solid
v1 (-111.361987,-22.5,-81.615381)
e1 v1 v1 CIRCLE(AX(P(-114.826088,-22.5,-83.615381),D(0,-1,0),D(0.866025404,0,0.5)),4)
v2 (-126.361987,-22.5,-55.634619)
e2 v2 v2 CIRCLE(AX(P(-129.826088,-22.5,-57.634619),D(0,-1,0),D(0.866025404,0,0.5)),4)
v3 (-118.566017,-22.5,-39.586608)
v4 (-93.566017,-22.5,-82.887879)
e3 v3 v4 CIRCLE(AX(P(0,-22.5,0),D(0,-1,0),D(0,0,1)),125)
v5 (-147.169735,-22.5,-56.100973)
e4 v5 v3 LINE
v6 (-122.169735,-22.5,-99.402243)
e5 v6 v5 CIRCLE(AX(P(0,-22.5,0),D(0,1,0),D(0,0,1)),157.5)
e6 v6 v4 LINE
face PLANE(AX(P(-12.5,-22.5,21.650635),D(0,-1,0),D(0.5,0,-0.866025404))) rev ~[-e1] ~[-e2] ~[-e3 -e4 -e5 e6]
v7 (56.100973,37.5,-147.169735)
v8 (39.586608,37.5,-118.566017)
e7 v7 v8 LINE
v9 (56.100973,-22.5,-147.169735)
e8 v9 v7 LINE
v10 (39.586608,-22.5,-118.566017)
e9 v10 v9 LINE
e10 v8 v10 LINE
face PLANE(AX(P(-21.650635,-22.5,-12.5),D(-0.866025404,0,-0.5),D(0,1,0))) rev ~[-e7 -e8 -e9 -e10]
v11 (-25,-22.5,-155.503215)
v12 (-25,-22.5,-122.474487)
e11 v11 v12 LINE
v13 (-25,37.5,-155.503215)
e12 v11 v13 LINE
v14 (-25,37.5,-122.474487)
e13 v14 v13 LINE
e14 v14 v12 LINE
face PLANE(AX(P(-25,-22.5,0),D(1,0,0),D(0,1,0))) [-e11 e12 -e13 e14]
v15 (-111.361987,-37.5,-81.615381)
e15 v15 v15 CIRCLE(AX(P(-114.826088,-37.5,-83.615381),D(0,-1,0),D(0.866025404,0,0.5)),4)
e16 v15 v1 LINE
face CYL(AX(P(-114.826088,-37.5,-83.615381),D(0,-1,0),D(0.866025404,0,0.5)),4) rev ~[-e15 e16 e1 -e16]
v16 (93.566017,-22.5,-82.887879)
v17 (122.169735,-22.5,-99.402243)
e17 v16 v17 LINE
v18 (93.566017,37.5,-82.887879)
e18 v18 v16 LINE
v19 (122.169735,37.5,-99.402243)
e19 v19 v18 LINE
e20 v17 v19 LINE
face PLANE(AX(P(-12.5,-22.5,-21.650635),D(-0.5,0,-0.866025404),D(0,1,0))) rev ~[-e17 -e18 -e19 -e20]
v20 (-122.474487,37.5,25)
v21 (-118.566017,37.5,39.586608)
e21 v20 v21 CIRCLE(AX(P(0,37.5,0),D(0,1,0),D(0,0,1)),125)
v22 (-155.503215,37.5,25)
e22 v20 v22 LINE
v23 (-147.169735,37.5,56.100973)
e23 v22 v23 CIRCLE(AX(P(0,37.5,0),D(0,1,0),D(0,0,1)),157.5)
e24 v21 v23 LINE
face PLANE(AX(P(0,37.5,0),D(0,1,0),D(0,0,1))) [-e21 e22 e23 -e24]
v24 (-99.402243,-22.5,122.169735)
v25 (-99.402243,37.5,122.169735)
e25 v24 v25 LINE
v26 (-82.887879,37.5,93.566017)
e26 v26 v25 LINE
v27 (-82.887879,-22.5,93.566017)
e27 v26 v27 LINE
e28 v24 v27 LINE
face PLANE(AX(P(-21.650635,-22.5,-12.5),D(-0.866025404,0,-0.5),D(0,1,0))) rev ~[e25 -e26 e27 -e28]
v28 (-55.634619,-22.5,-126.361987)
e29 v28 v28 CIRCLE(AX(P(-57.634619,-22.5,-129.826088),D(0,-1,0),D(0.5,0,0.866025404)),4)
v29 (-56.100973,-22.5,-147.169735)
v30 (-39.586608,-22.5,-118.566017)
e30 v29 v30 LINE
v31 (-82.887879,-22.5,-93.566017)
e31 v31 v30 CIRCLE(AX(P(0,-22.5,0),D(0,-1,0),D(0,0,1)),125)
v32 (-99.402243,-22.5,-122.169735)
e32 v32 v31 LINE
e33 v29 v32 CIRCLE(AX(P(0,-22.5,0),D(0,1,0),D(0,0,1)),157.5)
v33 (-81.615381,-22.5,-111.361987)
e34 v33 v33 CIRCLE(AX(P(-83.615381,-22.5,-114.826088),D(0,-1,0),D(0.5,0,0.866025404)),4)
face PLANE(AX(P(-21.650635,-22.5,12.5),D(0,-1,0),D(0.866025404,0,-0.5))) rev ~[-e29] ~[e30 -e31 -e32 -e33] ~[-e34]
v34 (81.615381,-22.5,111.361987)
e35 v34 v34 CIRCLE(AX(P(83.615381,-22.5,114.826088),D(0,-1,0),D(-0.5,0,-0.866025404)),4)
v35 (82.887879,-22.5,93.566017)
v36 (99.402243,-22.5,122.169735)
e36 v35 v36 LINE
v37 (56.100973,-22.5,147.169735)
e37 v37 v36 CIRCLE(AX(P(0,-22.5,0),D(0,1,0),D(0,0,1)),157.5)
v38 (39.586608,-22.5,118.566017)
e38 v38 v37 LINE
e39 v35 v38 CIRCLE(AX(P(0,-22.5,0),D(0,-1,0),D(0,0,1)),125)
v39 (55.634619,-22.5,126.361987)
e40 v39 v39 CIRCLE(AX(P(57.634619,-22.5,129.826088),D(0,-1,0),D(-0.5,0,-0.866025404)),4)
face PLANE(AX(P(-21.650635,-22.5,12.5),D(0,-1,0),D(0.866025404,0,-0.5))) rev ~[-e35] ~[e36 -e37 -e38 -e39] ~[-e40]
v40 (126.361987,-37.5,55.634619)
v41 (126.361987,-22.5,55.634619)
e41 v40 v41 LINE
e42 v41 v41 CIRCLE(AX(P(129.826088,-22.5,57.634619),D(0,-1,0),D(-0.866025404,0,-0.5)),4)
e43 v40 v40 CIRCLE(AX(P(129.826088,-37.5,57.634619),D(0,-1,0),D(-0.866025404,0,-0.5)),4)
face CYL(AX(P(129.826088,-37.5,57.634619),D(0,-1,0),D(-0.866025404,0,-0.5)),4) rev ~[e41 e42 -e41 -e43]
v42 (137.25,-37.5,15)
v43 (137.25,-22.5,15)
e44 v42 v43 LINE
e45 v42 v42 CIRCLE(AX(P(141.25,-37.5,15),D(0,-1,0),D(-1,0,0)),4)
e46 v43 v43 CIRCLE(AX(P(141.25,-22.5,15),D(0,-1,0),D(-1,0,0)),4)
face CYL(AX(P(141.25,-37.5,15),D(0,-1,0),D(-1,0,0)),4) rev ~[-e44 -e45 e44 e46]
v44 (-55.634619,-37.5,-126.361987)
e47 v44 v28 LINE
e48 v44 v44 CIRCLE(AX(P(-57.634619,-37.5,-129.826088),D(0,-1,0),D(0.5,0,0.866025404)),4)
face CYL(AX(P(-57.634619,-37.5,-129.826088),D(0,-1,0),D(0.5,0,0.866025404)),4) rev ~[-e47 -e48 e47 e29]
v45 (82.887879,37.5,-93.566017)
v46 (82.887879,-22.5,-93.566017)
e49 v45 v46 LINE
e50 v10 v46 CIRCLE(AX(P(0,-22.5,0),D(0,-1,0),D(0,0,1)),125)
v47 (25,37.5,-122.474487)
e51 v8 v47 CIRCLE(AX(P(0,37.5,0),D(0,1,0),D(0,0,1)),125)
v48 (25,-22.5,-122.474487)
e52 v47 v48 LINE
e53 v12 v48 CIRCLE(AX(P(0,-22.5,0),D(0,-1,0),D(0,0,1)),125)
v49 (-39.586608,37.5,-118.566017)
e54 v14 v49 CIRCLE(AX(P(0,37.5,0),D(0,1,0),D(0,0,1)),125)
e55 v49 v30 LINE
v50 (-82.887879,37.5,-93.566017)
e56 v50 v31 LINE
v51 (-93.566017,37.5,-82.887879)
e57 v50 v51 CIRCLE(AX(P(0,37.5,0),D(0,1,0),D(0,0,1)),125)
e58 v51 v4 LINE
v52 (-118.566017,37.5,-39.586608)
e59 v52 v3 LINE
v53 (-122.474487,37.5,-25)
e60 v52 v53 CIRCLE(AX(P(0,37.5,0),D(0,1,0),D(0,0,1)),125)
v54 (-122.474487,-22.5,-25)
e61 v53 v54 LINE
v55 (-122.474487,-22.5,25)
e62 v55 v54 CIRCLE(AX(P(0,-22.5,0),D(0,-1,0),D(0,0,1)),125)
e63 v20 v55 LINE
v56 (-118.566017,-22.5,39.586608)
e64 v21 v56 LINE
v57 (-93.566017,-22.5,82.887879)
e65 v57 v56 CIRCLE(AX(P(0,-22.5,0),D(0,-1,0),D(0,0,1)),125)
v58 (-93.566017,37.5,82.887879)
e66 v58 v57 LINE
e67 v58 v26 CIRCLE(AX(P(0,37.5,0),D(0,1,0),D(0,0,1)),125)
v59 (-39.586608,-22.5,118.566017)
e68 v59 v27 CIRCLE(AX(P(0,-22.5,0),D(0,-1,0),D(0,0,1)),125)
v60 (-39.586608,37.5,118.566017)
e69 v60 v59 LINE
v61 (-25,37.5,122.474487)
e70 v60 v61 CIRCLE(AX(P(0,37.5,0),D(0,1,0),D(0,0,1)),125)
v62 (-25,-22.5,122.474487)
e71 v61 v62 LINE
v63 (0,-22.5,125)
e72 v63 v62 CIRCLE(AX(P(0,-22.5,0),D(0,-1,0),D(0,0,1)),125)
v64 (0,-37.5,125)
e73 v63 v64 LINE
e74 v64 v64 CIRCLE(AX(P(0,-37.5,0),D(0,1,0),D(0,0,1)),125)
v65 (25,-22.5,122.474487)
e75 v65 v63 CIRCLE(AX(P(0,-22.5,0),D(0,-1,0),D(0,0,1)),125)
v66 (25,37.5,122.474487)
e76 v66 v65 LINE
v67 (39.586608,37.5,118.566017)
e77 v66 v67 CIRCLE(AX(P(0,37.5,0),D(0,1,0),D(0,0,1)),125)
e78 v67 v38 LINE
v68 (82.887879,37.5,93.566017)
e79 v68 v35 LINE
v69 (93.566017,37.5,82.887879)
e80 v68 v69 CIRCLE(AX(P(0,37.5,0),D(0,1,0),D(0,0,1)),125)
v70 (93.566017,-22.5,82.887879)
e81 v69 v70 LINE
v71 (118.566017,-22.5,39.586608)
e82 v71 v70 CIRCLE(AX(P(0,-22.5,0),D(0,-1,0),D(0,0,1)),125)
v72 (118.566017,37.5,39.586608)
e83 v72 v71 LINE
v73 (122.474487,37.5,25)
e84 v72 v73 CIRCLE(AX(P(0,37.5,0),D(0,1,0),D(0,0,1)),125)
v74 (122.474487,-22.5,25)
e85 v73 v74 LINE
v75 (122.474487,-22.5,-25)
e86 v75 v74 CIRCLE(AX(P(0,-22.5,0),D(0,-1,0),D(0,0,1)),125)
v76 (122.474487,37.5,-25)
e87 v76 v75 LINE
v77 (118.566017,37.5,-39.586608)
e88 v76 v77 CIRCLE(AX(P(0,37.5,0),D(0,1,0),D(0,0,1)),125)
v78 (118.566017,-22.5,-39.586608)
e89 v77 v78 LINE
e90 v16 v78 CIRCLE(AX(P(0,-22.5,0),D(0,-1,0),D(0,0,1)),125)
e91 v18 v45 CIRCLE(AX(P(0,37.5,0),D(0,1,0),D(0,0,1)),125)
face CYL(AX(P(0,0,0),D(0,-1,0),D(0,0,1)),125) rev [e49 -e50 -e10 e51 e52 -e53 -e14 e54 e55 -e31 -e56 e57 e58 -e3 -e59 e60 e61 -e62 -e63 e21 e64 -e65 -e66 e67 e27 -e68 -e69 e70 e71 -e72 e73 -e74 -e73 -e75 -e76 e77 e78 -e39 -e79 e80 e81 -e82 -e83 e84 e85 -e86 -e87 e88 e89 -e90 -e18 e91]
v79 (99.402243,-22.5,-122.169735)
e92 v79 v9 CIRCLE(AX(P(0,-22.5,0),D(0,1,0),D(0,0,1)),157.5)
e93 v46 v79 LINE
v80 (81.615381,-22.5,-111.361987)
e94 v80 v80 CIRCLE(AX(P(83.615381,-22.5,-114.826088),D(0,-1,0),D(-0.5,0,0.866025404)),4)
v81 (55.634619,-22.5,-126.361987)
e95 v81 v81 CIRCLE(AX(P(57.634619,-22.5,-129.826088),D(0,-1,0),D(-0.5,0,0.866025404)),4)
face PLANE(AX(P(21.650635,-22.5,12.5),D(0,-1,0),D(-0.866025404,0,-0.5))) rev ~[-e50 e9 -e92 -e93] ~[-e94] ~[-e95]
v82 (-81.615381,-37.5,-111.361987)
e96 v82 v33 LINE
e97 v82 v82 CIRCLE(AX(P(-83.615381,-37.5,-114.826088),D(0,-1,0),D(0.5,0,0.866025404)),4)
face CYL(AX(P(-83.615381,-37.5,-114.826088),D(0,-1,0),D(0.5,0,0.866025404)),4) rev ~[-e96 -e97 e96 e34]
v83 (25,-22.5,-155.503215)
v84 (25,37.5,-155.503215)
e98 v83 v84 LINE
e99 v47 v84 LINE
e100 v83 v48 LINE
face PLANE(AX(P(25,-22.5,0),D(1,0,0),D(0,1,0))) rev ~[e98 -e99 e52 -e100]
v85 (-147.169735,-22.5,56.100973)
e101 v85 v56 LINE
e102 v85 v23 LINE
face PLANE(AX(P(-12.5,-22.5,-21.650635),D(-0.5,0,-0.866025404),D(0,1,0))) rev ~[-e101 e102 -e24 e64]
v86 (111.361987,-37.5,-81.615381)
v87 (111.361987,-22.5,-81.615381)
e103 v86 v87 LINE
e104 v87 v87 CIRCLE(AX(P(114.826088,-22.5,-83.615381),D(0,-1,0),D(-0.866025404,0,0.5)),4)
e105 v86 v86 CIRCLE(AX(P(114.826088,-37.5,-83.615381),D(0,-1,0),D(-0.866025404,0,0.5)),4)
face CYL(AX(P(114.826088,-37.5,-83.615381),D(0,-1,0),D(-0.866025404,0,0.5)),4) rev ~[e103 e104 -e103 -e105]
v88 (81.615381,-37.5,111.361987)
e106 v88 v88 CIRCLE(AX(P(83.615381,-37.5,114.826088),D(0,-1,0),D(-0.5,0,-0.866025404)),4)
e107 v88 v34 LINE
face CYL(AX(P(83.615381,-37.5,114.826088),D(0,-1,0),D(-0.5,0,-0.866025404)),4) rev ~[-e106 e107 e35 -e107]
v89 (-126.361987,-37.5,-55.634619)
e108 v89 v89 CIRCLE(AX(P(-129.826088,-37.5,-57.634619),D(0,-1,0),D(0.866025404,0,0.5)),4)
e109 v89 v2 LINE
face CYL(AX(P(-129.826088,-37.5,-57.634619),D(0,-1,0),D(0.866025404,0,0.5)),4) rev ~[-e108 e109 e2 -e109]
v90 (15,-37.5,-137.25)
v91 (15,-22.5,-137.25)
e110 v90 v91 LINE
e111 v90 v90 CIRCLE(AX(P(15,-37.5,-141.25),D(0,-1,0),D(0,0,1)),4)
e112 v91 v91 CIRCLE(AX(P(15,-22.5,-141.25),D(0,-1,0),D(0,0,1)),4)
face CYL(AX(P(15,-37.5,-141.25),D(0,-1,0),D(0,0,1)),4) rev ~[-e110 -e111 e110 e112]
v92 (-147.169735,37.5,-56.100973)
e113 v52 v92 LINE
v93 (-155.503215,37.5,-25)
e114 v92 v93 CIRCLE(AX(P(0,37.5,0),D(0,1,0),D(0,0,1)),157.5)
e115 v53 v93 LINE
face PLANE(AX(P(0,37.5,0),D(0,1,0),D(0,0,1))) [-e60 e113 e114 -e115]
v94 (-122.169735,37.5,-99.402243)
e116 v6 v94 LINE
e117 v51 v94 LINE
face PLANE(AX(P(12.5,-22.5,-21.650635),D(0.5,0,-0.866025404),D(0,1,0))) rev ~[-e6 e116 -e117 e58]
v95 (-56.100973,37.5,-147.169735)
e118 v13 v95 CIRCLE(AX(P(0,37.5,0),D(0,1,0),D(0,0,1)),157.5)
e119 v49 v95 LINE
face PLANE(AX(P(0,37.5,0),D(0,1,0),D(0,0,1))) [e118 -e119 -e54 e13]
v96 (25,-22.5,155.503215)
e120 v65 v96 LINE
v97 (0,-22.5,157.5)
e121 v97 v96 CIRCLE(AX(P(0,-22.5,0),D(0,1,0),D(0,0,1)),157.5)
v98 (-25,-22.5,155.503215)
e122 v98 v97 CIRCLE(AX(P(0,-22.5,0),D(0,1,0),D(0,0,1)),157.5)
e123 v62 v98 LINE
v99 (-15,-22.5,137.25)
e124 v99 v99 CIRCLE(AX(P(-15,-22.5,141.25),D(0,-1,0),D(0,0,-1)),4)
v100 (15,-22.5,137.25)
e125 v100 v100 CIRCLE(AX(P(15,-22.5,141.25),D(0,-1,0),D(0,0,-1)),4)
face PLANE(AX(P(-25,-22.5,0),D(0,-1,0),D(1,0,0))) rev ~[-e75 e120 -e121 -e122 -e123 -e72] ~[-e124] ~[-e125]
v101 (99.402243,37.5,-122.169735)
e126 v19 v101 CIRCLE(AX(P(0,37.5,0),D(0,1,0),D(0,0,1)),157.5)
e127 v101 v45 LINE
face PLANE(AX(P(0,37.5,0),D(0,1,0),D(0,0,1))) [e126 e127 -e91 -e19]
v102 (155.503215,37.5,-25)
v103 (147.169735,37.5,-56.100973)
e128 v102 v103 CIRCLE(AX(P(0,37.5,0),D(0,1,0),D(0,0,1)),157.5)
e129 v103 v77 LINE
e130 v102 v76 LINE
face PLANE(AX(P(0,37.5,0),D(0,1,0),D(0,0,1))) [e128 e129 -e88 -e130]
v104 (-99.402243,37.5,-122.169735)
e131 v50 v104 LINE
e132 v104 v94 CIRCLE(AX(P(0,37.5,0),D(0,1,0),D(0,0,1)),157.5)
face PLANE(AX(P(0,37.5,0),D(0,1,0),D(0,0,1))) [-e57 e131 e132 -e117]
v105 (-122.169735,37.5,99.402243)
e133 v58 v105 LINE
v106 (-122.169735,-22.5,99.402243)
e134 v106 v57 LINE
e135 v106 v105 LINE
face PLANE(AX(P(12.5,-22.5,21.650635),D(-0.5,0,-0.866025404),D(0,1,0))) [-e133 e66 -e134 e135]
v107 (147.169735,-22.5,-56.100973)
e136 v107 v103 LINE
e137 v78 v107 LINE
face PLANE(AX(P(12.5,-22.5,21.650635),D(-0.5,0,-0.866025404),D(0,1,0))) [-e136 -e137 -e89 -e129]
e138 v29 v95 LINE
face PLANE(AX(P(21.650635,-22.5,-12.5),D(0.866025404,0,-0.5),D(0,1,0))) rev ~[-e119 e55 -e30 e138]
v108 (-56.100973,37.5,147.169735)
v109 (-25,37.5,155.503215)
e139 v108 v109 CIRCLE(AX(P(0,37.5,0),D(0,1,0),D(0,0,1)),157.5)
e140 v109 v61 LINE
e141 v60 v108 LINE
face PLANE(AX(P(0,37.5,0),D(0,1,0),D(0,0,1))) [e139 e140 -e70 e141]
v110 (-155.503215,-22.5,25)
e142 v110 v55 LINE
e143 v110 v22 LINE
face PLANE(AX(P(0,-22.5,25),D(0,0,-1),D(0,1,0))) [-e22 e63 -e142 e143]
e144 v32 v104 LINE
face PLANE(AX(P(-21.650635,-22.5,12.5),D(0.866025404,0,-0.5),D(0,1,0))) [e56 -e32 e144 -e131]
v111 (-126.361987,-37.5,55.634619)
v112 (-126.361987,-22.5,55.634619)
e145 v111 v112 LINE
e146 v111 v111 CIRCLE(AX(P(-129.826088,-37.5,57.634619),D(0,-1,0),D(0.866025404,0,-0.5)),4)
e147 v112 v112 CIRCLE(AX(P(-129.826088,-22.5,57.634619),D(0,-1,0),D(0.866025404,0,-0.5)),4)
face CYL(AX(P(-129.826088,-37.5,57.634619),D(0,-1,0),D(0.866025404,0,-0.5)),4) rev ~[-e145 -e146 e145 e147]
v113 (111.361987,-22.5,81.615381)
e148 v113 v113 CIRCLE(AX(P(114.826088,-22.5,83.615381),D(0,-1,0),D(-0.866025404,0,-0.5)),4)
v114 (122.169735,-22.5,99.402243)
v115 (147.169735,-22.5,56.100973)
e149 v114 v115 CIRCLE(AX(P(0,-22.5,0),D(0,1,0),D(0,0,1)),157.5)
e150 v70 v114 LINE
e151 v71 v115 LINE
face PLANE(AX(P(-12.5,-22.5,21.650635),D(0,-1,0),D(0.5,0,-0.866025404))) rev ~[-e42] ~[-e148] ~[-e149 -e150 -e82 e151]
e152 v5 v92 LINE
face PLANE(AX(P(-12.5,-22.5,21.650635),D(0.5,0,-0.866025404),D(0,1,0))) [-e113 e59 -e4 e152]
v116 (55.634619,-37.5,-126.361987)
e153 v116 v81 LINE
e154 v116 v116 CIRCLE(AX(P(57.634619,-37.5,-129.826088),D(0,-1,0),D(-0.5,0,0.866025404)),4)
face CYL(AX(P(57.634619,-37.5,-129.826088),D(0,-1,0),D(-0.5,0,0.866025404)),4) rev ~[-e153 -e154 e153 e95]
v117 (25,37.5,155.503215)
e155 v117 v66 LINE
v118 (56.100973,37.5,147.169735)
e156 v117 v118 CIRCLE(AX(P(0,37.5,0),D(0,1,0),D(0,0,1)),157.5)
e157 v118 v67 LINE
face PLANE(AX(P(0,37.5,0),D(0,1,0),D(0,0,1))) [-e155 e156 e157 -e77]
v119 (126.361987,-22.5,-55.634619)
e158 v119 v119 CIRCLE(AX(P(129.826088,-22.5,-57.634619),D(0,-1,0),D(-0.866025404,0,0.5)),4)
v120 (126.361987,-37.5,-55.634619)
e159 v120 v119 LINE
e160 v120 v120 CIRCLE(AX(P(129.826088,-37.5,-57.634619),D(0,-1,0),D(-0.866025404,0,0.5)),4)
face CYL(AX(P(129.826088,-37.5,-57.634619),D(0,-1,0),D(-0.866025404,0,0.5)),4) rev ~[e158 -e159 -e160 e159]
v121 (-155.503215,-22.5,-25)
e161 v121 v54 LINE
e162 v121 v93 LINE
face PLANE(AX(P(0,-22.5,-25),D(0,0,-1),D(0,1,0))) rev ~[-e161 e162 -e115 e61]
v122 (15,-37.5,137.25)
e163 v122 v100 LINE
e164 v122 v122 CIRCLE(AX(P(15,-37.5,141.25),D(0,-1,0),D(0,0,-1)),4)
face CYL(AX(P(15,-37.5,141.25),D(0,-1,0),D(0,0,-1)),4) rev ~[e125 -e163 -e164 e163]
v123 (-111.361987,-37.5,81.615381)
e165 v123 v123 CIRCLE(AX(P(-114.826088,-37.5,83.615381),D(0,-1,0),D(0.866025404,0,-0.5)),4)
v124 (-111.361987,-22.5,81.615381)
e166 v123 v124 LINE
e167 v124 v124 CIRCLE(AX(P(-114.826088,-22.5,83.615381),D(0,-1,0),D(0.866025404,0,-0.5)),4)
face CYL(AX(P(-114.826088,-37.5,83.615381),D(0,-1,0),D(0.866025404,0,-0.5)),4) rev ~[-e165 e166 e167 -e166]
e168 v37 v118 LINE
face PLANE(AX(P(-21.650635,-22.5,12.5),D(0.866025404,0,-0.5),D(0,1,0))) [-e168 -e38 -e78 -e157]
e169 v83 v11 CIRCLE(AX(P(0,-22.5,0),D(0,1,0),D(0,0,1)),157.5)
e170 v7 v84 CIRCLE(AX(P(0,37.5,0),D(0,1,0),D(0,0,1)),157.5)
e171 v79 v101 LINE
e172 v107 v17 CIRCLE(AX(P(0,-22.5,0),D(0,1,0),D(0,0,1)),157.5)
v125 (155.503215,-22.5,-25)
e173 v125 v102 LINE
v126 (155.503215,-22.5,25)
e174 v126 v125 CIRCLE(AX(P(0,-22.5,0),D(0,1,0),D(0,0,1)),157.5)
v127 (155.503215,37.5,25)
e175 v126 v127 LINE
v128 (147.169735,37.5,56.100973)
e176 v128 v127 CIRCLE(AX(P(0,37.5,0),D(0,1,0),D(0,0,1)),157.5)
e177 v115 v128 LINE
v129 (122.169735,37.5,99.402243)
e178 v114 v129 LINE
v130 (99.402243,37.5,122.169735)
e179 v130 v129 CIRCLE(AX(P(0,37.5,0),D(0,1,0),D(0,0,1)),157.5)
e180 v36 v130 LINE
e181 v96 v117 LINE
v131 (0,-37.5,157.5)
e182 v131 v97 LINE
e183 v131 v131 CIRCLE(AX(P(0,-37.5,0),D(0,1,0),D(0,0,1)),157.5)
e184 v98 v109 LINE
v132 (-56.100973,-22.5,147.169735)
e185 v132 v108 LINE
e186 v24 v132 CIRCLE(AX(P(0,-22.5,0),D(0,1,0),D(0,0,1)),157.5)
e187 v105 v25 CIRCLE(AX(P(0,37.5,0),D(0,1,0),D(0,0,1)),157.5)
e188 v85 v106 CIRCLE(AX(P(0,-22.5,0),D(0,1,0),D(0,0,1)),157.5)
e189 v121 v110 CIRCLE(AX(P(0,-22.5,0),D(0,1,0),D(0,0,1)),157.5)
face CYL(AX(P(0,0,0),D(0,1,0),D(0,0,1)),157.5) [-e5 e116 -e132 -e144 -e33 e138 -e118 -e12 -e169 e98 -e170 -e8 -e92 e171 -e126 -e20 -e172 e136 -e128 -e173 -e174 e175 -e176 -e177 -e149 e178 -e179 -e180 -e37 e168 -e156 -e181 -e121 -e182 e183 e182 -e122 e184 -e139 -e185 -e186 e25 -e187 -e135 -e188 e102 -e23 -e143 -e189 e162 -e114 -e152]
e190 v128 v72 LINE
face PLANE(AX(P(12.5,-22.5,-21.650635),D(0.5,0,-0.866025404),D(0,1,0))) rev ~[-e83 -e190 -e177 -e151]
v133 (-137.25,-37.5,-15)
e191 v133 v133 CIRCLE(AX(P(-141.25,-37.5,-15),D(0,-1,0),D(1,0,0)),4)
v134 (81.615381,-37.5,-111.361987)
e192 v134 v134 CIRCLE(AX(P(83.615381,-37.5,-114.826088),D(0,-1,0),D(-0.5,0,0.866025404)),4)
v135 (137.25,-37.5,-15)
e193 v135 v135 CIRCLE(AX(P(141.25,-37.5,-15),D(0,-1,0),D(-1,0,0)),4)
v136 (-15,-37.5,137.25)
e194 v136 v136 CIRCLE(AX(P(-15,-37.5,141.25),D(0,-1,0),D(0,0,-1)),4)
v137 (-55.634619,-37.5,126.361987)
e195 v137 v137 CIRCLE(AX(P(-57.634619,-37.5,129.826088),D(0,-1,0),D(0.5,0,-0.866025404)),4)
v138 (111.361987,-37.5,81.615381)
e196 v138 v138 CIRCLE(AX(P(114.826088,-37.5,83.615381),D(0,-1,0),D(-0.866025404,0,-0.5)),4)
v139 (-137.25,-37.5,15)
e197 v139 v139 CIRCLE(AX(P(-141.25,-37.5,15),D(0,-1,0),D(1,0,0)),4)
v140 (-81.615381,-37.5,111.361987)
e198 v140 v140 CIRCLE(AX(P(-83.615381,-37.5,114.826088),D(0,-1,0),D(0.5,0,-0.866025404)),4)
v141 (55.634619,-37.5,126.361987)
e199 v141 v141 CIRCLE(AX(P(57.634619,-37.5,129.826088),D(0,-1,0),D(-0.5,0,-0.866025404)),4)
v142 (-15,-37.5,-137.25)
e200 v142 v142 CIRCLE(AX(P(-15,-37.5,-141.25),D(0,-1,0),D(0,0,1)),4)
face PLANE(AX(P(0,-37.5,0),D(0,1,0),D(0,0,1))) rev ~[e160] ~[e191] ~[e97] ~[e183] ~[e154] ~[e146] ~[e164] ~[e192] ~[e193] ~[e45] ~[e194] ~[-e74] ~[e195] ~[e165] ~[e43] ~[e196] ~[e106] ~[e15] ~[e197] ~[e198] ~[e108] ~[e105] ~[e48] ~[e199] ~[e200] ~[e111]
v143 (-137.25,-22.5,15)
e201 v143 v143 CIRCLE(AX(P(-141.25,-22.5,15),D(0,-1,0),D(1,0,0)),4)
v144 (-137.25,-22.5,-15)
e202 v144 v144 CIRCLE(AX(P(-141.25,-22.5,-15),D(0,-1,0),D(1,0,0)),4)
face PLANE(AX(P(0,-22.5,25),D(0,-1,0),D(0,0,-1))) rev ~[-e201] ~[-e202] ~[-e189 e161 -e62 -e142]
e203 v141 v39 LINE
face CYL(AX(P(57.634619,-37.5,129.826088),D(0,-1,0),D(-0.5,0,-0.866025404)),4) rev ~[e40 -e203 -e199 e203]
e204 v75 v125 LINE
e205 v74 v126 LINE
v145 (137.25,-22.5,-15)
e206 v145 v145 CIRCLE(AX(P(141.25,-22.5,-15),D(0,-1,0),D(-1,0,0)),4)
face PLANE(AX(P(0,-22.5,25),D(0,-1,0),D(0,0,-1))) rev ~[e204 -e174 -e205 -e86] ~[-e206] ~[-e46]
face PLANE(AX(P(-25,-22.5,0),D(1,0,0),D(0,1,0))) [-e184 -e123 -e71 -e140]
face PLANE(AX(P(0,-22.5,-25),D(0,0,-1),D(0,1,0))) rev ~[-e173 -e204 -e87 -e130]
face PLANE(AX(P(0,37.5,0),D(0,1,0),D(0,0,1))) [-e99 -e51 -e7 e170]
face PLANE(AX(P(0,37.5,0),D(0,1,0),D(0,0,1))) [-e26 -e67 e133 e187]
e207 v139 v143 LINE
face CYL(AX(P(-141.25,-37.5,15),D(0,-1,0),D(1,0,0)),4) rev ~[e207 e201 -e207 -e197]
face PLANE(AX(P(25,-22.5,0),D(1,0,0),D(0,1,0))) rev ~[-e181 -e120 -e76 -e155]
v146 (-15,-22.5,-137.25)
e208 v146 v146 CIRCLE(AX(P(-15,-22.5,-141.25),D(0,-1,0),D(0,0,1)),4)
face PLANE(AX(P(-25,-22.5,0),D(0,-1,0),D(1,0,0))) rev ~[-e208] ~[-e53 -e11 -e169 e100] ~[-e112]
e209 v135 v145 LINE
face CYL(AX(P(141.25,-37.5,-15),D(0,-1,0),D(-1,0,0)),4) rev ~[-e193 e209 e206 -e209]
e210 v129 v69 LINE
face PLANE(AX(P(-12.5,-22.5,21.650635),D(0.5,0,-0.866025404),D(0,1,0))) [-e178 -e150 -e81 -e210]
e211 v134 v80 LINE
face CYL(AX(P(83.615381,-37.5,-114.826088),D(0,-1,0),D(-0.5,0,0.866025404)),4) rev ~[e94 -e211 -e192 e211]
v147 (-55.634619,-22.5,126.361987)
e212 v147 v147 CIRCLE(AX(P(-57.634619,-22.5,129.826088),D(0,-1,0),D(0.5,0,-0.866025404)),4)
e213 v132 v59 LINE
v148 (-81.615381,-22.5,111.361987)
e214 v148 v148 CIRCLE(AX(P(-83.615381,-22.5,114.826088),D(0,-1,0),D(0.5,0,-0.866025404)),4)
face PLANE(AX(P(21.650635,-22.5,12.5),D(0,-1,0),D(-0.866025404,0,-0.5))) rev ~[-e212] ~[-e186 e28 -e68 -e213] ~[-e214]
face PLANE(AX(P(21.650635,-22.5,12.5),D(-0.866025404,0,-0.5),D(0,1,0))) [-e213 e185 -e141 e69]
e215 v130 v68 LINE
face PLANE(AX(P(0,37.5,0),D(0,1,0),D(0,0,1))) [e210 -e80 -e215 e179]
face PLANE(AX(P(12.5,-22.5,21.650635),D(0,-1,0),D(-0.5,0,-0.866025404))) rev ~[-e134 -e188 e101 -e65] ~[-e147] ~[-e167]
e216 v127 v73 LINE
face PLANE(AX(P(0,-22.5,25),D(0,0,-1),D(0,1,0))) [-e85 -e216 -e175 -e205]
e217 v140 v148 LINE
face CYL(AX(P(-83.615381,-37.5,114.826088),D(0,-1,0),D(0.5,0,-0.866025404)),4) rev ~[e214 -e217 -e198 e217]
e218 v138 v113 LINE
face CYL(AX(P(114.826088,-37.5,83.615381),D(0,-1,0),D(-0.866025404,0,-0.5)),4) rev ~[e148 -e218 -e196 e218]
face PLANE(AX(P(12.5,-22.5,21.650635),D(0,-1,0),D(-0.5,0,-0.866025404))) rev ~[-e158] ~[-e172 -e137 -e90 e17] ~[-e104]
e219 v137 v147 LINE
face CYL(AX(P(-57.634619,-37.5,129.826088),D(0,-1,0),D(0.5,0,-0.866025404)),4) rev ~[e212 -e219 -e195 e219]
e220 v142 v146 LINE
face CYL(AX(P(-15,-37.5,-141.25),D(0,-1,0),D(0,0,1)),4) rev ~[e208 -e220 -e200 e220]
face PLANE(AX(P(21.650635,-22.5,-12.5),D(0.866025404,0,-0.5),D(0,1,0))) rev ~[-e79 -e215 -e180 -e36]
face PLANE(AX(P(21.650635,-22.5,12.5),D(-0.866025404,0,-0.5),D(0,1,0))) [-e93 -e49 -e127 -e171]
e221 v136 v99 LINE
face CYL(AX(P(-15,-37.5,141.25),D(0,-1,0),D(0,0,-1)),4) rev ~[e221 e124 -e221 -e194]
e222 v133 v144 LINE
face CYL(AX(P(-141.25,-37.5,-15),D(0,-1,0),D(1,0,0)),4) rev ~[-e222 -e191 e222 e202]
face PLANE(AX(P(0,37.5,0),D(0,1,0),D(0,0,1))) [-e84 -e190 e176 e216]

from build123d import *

# Parameters (mm, degrees)
SKETCH1_R           = 157.5
SKETCH1_R_2         = 125
BOSS_EXTRUDE1_DEPTH = 37.5
SKETCH2_W           = 50
SKETCH2_H           = 60
CUT_EXTRUDE1_DEPTH  = 226.873305196
CIRPATTERN1_COUNT   = 12
SKETCH3_R           = 4
CUT_EXTRUDE2_DEPTH  = 236.02659424
CIRPATTERN2_COUNT   = 12


with BuildPart() as part:
    # Sketch1 → Boss-Extrude1 (new, symmetric)
    with BuildSketch(Plane(origin=(0, 0, 0), x_dir=(1, 0, 0), z_dir=(0, 1, 0))):
        with Locations(Location((0, 0, 0), (0, 0, 270))):
            Circle(SKETCH1_R)
        with Locations(Location((0, 0, 0), (0, 0, 270))):
            Circle(SKETCH1_R_2, mode=Mode.SUBTRACT)
    extrude(amount=BOSS_EXTRUDE1_DEPTH, both=True)

    # Sketch2 → Cut-Extrude1 (cut, symmetric)
    with BuildSketch(Plane.XY):
        with Locations((0, 7.5)):
            Rectangle(SKETCH2_W, SKETCH2_H)
    cut_extrude1 = extrude(amount=CUT_EXTRUDE1_DEPTH, both=True, mode=Mode.SUBTRACT)

    # CirPattern1: Cut-Extrude1 ×12 about axis
    cirpattern1_axis = Axis((0, 0, 0), (0, 1, 0))
    for i in range(1, CIRPATTERN1_COUNT):
        add(cut_extrude1.rotate(cirpattern1_axis, i * 360 / CIRPATTERN1_COUNT), mode=Mode.SUBTRACT)

    # Sketch3 → Cut-Extrude2 (cut, through all)
    with BuildSketch(Plane.XZ.offset(37.5)):
        with Locations(Location((-15, 141.25, 0), (0, 0, 270))):
            Circle(SKETCH3_R)
        with Locations(Location((15, 141.25, 0), (0, 0, 270))):
            Circle(SKETCH3_R)
    cut_extrude2 = extrude(amount=-CUT_EXTRUDE2_DEPTH, mode=Mode.SUBTRACT)

    # CirPattern2: Cut-Extrude2 ×12 about axis
    cirpattern2_axis = Axis((0, 0, 0), (0, 1, 0))
    for i in range(1, CIRPATTERN2_COUNT):
        add(cut_extrude2.rotate(cirpattern2_axis, i * 360 / CIRPATTERN2_COUNT), mode=Mode.SUBTRACT)


solid = part.part
